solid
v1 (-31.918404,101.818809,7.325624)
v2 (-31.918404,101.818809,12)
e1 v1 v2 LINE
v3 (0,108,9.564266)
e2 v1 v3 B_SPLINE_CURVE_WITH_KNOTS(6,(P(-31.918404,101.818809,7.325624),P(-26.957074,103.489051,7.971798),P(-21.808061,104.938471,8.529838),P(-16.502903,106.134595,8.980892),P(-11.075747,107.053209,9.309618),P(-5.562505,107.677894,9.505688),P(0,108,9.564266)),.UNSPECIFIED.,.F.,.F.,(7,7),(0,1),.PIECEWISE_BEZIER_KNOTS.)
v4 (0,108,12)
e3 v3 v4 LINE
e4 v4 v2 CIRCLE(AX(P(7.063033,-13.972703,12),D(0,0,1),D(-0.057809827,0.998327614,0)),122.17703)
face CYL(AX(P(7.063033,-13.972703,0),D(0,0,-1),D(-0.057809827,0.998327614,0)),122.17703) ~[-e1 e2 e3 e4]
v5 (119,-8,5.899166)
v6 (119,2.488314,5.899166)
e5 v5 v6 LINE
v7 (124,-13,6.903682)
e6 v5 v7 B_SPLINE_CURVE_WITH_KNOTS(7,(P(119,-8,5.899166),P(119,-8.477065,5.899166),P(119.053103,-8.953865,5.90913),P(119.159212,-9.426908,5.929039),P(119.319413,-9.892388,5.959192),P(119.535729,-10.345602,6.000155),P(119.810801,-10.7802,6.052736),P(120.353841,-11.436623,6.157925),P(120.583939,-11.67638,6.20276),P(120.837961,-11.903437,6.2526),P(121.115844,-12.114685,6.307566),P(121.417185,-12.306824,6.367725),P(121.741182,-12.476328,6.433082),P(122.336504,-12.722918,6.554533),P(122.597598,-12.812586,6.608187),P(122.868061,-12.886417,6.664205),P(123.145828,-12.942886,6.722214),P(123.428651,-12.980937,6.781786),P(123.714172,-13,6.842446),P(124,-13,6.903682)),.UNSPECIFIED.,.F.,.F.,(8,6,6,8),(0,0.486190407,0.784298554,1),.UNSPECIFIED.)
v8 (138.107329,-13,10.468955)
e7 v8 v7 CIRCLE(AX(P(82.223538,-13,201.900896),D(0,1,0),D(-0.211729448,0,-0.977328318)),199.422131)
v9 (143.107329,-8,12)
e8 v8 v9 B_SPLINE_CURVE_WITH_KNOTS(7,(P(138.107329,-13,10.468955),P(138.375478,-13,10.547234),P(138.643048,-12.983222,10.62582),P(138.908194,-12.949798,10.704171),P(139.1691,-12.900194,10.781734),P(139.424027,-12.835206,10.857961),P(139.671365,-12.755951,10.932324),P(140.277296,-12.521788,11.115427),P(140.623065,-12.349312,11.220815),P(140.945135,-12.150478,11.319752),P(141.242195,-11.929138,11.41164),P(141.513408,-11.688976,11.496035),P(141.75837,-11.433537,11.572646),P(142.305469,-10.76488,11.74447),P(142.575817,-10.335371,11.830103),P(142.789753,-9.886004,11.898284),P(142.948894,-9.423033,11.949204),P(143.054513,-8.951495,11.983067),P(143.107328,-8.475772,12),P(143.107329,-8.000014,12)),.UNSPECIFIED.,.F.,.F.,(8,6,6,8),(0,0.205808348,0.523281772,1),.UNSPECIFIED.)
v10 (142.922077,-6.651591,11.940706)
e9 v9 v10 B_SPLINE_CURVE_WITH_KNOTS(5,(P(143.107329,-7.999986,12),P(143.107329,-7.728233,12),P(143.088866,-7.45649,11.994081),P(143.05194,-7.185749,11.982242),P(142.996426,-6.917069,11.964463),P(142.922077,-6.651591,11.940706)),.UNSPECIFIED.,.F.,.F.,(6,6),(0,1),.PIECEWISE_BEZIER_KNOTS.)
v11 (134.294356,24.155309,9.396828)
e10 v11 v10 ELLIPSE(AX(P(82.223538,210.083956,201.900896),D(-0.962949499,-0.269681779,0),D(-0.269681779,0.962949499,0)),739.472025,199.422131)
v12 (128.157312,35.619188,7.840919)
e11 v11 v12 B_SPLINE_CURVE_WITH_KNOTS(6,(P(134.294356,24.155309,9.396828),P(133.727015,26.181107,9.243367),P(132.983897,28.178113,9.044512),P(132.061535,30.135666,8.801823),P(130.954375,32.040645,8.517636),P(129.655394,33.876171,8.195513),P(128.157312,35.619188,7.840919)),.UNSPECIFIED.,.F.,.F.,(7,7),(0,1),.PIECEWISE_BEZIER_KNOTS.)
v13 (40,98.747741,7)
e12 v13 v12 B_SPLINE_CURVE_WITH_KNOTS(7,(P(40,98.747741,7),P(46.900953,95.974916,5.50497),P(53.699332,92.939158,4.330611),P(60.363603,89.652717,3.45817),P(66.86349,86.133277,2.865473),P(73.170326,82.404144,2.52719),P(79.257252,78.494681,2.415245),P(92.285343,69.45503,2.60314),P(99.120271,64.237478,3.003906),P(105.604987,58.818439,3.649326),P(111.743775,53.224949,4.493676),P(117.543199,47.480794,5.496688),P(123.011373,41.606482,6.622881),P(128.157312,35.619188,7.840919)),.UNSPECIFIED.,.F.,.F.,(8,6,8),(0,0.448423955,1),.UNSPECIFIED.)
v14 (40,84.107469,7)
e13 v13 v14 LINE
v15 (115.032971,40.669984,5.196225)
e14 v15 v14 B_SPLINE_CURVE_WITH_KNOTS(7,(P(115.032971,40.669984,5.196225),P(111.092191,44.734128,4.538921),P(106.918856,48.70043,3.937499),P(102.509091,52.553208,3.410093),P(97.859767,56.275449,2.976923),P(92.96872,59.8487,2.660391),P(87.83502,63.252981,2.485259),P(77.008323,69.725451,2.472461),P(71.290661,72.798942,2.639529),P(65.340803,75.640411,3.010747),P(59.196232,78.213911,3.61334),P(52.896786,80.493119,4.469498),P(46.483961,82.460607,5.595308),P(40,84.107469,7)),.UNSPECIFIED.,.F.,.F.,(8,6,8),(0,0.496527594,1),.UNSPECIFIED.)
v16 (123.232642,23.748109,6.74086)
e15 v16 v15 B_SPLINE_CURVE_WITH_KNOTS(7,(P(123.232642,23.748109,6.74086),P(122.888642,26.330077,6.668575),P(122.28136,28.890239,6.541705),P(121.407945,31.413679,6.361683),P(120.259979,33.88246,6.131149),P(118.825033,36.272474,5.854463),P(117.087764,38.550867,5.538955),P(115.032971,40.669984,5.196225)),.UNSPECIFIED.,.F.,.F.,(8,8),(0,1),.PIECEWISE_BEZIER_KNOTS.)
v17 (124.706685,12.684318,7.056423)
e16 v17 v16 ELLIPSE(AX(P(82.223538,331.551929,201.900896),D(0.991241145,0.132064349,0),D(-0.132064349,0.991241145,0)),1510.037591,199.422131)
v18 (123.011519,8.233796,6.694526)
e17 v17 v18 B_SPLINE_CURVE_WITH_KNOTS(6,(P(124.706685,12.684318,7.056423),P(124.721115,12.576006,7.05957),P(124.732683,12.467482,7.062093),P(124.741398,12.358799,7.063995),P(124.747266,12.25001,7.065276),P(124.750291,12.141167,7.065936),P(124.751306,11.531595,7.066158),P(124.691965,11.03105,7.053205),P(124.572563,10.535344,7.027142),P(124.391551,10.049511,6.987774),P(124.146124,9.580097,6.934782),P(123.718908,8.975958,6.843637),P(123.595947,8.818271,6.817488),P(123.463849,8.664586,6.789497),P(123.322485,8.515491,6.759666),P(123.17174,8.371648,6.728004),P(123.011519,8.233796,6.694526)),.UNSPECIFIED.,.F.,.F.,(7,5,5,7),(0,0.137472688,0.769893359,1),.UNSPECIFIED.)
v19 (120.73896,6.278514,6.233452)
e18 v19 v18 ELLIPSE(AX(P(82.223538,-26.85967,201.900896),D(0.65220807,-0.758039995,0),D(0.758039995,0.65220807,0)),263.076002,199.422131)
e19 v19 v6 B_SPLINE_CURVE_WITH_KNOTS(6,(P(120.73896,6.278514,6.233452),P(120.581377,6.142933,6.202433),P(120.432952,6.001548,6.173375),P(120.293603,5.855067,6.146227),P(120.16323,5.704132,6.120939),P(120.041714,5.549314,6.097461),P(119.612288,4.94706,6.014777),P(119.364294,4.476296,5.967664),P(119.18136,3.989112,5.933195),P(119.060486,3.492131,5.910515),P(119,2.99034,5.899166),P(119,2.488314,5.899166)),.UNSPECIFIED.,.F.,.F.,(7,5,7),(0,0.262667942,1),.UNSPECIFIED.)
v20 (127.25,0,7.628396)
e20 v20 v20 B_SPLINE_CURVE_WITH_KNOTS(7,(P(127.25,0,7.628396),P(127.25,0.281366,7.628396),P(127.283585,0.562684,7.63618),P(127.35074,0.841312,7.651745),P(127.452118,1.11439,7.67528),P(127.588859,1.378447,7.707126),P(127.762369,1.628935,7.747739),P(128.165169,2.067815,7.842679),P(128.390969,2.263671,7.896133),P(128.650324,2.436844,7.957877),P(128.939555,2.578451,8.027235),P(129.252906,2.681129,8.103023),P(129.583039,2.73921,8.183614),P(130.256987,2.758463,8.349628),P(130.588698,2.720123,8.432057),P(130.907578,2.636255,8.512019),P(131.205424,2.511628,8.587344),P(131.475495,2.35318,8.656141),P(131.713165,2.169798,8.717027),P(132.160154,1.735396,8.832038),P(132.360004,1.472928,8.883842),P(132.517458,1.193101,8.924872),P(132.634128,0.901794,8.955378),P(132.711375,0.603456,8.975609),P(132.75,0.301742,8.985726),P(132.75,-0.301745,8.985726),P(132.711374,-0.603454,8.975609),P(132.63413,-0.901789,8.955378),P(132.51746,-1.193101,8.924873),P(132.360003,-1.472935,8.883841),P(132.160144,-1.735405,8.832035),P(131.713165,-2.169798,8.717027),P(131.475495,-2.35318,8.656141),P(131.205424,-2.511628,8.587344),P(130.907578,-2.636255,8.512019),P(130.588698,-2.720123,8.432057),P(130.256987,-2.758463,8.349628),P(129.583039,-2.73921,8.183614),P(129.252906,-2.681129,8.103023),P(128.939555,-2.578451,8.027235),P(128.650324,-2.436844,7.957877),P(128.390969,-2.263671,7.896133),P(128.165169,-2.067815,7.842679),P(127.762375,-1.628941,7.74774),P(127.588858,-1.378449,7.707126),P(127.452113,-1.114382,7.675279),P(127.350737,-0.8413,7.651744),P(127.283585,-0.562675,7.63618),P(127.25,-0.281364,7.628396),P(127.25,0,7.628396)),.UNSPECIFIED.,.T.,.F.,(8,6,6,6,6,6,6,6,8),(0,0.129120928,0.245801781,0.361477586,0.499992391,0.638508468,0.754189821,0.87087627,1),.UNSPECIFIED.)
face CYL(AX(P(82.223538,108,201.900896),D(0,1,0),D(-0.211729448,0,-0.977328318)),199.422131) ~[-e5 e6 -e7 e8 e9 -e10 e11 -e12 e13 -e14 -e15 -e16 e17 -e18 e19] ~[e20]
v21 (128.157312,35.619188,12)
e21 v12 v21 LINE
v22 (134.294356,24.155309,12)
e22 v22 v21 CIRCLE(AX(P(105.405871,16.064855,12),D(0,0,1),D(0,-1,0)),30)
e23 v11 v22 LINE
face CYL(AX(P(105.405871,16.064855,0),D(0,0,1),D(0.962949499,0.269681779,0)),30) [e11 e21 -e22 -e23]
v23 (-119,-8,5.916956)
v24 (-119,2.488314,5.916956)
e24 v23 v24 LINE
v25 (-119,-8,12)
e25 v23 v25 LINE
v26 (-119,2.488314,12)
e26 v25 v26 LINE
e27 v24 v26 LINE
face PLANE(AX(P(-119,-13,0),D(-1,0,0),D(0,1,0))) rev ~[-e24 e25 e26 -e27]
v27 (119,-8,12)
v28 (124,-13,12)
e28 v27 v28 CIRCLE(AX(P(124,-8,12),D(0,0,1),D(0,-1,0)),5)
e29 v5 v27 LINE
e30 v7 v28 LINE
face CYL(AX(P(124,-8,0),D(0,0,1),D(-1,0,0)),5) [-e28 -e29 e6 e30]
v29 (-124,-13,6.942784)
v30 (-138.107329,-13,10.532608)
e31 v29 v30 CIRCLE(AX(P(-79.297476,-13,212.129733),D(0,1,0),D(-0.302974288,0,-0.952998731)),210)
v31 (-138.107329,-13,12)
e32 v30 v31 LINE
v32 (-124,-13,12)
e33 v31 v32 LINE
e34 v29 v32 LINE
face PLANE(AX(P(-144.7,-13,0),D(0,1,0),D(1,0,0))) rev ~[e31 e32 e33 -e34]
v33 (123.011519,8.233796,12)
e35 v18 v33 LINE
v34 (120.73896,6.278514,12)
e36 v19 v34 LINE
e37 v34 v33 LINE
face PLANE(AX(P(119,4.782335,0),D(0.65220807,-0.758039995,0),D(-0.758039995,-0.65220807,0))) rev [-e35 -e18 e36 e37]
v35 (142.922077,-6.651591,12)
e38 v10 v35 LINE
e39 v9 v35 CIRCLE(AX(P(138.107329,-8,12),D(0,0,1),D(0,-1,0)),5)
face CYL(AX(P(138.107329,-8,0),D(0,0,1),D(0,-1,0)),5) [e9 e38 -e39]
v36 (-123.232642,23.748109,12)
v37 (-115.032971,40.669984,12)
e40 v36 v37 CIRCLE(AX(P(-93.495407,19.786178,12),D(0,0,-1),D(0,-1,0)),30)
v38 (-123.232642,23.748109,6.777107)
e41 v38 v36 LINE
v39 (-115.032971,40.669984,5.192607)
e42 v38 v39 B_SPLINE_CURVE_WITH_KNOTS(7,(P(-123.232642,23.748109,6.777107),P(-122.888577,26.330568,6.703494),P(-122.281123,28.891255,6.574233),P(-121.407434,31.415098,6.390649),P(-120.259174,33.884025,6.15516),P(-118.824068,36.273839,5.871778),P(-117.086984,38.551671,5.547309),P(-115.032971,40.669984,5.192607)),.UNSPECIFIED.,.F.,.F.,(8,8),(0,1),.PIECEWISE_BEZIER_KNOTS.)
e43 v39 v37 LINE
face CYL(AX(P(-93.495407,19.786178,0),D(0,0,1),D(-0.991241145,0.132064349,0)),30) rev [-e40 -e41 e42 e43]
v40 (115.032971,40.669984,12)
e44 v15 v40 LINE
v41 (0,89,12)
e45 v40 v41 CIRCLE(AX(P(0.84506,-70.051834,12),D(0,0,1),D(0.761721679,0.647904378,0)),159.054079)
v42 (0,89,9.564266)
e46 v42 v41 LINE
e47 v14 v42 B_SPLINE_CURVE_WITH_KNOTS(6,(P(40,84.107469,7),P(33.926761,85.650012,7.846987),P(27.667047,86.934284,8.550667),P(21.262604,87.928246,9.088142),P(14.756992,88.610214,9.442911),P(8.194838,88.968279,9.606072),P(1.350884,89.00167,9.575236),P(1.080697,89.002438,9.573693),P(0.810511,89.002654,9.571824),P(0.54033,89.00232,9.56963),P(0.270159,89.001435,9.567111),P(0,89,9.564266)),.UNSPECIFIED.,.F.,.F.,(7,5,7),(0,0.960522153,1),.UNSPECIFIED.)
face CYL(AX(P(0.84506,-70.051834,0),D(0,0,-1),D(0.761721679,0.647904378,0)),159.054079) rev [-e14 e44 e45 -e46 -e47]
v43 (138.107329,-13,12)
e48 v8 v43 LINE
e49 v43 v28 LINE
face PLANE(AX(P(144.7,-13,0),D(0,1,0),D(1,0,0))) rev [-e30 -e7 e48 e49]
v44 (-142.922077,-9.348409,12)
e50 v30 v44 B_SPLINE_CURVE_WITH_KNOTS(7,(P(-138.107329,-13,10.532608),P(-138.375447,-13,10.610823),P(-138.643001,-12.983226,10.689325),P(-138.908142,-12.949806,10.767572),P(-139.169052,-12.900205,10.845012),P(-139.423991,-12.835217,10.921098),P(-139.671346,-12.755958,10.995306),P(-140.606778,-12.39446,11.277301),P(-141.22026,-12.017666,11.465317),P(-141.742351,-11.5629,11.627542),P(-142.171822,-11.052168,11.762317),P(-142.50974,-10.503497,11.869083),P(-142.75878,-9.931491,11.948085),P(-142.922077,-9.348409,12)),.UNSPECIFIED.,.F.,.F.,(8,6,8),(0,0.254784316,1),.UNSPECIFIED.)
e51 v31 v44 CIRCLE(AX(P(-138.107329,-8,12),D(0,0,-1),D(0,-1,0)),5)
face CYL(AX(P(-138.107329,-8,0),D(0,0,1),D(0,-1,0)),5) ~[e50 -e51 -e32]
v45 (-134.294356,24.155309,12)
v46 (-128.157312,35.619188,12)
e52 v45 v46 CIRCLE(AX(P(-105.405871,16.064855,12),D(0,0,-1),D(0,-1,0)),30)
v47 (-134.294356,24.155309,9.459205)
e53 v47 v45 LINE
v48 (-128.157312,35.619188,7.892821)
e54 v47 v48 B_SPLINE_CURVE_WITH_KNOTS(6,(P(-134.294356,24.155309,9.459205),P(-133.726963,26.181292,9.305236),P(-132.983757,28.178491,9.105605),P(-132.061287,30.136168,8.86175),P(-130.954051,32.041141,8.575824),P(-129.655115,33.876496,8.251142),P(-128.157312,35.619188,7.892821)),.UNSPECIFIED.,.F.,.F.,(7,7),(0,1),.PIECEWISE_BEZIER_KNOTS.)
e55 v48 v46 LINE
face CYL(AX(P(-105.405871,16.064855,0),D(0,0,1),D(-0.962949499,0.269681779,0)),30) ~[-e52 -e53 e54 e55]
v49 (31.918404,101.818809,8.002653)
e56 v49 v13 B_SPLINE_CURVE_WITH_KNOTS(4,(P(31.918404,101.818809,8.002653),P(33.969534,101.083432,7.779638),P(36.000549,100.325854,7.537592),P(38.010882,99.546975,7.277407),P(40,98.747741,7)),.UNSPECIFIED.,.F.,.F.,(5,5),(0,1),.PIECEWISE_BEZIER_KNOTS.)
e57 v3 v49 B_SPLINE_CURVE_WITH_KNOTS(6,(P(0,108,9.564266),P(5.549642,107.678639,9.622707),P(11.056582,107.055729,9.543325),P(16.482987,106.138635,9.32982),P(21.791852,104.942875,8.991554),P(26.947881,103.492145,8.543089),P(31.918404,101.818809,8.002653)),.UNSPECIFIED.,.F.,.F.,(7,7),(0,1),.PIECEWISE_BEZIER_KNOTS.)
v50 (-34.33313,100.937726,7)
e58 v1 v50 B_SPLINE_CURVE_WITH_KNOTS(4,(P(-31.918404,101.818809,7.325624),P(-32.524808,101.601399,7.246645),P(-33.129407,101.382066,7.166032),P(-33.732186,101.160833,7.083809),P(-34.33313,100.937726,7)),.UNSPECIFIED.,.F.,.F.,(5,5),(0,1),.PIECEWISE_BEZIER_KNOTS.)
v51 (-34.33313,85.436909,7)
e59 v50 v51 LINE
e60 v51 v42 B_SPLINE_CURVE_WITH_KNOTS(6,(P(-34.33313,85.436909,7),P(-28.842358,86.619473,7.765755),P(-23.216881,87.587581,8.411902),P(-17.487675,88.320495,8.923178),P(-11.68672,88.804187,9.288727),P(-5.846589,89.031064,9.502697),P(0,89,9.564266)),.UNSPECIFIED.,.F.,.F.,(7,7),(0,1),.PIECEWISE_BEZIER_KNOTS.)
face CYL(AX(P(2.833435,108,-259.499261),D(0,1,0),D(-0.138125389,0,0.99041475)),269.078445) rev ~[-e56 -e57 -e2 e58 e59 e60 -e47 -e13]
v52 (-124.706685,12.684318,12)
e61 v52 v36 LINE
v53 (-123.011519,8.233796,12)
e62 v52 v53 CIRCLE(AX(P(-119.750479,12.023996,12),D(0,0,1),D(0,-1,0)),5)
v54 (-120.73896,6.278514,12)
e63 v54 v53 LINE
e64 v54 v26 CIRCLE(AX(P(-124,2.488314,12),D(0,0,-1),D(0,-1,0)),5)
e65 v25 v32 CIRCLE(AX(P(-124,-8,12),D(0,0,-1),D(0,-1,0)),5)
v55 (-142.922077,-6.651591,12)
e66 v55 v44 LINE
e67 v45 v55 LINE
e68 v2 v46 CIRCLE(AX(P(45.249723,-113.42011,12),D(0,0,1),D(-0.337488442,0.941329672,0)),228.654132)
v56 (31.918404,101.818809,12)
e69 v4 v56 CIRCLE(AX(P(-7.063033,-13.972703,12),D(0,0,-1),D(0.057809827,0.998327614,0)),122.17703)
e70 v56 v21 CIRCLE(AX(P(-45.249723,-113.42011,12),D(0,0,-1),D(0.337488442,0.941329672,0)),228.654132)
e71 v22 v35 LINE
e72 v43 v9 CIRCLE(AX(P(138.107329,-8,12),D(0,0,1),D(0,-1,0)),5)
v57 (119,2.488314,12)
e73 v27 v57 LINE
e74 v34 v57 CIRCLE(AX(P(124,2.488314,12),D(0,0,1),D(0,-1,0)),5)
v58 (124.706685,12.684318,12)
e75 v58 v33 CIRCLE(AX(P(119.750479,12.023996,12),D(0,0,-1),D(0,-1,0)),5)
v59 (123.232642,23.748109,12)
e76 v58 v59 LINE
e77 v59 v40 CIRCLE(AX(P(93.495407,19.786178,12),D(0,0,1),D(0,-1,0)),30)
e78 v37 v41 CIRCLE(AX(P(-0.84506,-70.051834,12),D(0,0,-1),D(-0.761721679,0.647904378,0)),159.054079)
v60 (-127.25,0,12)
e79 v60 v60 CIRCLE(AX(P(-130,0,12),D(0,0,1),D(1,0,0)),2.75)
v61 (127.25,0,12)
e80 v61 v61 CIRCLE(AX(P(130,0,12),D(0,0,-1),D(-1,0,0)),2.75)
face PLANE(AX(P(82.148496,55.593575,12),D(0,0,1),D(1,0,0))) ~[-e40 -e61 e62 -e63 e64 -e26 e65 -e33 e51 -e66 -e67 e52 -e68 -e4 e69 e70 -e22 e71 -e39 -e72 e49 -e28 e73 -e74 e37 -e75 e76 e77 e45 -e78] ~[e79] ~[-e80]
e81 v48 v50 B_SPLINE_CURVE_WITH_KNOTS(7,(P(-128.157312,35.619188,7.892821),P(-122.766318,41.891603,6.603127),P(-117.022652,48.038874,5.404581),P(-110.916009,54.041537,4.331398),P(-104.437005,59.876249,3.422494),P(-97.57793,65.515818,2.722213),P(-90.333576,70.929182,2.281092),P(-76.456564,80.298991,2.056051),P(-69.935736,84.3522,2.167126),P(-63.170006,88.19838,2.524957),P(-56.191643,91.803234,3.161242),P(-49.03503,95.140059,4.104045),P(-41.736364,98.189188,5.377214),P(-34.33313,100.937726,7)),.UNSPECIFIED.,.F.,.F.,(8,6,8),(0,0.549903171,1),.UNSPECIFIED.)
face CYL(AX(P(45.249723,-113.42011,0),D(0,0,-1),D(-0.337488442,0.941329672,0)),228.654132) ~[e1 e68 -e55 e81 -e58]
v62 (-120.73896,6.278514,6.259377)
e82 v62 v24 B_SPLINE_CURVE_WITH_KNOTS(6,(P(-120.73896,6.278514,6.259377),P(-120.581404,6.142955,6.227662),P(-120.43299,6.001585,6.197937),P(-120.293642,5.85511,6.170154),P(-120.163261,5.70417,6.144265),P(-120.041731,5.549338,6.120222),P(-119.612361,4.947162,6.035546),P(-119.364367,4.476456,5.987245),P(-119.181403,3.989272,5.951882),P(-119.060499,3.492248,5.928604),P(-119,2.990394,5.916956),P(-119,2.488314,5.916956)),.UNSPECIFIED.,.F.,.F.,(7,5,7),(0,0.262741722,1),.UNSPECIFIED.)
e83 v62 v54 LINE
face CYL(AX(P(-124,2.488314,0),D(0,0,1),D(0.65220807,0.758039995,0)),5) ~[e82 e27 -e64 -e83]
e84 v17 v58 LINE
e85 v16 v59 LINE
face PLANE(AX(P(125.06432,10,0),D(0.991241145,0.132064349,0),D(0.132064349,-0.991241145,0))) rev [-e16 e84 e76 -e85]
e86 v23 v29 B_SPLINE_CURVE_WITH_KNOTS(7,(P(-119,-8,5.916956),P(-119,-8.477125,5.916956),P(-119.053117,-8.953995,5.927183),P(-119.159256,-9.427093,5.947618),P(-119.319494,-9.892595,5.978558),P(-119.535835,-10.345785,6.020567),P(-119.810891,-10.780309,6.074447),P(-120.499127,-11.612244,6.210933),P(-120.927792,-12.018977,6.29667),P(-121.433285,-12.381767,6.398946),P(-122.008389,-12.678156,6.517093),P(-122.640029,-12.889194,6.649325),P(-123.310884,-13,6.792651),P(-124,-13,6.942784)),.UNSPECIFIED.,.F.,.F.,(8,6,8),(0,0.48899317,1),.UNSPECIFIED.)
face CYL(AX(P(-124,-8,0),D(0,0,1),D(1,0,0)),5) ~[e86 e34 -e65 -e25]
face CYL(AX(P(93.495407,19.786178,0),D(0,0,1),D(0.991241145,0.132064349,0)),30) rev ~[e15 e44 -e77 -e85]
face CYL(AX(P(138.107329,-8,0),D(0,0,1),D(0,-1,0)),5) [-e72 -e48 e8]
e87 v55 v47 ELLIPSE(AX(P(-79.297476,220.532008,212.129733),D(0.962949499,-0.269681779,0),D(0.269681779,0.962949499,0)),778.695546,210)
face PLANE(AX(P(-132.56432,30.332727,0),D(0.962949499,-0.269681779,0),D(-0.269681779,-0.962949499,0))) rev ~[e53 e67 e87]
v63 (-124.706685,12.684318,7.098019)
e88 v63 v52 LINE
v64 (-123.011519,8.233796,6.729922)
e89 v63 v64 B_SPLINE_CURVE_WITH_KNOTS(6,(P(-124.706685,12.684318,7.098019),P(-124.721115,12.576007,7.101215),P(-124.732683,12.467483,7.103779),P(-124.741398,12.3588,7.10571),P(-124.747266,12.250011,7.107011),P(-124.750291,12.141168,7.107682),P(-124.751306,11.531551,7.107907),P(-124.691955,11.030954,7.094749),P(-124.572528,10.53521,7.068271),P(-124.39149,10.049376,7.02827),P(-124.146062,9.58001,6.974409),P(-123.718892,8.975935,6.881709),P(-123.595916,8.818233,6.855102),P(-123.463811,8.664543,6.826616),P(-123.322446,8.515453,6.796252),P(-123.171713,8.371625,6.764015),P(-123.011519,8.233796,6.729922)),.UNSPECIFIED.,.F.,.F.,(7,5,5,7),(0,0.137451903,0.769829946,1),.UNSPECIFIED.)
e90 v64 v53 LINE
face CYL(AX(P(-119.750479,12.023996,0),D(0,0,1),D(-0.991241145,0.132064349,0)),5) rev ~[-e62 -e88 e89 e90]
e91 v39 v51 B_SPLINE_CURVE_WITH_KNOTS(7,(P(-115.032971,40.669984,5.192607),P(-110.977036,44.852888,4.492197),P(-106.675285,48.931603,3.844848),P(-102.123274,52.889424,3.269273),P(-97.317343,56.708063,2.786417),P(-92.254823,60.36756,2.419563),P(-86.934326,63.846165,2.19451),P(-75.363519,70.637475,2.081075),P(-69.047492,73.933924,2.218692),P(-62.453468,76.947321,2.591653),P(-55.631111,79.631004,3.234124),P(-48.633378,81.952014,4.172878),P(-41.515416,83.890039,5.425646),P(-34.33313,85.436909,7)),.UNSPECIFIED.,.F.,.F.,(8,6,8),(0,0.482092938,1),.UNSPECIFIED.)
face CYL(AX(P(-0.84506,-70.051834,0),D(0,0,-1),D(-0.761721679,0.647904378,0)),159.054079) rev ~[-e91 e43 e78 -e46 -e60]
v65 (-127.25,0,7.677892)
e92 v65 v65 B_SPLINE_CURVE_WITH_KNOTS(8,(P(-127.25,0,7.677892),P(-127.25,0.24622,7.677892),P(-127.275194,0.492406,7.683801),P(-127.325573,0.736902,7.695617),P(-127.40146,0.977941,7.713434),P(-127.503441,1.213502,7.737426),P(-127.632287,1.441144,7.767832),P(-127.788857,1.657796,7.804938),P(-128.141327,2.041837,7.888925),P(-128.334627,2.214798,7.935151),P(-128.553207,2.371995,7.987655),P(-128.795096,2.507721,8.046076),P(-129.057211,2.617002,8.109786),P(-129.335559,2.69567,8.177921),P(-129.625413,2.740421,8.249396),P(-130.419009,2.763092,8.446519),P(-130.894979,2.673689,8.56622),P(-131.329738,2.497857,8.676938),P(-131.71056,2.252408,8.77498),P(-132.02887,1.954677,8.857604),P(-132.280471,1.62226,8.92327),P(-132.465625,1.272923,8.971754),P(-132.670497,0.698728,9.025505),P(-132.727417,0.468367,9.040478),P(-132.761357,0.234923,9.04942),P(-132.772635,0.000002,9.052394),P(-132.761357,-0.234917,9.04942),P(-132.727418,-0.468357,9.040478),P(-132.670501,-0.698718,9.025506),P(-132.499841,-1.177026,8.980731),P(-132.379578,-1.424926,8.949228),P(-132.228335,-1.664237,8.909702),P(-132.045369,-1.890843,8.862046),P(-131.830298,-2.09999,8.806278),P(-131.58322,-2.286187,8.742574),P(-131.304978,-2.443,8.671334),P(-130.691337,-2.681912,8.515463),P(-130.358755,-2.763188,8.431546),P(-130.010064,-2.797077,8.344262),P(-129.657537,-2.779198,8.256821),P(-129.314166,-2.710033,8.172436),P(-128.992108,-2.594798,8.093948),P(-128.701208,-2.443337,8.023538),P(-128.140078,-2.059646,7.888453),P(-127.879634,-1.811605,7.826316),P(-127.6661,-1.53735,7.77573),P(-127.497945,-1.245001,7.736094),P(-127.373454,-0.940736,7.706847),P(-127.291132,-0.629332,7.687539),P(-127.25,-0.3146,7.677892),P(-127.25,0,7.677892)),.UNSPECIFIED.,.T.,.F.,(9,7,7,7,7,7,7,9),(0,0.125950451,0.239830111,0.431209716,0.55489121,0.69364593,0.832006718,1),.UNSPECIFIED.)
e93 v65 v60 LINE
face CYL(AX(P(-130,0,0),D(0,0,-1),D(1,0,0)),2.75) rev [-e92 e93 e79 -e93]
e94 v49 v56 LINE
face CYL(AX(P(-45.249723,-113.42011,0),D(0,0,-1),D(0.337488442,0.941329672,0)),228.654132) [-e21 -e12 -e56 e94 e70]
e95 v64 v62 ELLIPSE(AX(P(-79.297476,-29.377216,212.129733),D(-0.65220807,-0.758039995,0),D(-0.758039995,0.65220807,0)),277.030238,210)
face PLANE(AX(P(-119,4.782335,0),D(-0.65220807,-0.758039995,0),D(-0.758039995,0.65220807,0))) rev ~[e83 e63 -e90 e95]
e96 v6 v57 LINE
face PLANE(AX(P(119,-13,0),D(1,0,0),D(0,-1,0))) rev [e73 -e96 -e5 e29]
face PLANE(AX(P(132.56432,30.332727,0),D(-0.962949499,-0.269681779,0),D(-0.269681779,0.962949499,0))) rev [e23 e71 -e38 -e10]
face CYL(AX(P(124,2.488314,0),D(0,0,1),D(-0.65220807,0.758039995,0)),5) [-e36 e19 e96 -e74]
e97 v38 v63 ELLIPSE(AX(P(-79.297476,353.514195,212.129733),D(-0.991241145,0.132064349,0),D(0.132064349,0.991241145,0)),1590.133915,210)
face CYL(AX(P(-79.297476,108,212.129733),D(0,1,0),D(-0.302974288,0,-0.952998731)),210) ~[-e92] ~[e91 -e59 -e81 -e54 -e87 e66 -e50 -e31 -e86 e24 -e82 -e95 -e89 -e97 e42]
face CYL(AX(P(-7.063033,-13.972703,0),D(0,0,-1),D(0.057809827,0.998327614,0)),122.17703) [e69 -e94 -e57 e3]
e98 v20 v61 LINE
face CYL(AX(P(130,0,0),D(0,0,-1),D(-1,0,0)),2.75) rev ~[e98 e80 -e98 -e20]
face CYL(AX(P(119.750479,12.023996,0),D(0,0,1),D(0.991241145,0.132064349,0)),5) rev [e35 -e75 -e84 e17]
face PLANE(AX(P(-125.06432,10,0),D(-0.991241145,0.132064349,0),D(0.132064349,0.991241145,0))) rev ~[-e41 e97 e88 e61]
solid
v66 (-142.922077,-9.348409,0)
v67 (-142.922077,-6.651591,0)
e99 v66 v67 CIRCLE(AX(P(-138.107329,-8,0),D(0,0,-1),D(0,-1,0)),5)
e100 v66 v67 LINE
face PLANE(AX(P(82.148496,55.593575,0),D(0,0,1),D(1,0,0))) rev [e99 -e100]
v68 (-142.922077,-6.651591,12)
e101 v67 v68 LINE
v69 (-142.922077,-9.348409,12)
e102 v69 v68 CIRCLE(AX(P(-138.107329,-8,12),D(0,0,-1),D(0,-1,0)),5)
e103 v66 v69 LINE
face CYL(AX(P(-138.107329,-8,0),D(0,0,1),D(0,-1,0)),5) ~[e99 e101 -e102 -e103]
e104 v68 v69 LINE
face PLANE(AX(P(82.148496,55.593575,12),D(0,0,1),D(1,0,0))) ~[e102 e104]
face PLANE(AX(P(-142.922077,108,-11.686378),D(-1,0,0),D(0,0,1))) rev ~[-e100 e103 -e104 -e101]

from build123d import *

# Parameters (mm, degrees)
ESQUISSE2_R             = 2.75
BOSS_EXTRU_1_DEPTH      = 12
CONG_1_R                = 30
CONG_2_R                = 30
CONG_3_R                = 5
CONG_4_R                = 5
CONG_5_R                = 5
CONG_6_R                = 5
CONG_1_OF_SYM_TRIE1_R   = 30
CONG_2_OF_SYM_TRIE1_R   = 30
CONG_3_OF_SYM_TRIE1_R   = 5
CONG_4_OF_SYM_TRIE1_R   = 5
CONG_5_OF_SYM_TRIE1_R   = 5
CONG_6_OF_SYM_TRIE1_R   = 5
ENL_V_MAT_EXTRU_6_DEPTH = 153


with BuildPart() as part:
    # Esquisse2 → Boss.-Extru.1 (new body)
    with BuildSketch(Plane.XY):
        with BuildLine():
            Line((-125.064319956, 10), (-122, 33))
            ThreePointArc((-122, 33), (-67.197277761, 74.501212265), (0, 89))
            Line((0, 89), (0, 108))
            ThreePointArc((0, 108), (-16.165722488, 105.975834437), (-31.918403878, 101.818809198))
            ThreePointArc((-31.918403878, 101.818809198), (-87.157005326, 72.996548183), (-132.564319956, 30.332727469))
            Line((-132.564319956, 30.332727469), (-144.7, -13))
            Line((-144.7, -13), (-119, -13))
            Line((-119, -13), (-119, 4.782335439))
            Line((-119, 4.782335439), (-125.064319956, 10))
        make_face()
        with Locations((-130, 0)):
            Circle(ESQUISSE2_R, mode=Mode.SUBTRACT)
    boss_extru_1 = extrude(amount=BOSS_EXTRU_1_DEPTH)

    # Congé1
    cong_1_edges = [part.edges().sort_by_distance(p)[0] for p in [
        (-132.564319956, 30.332727469, 6),
    ]]
    fillet(cong_1_edges, radius=CONG_1_R)

    # Congé2
    cong_2_edges = [part.edges().sort_by_distance(p)[0] for p in [
        (-122, 33, 6),
    ]]
    fillet(cong_2_edges, radius=CONG_2_R)

    # Congé3
    cong_3_edges = [part.edges().sort_by_distance(p)[0] for p in [
        (-125.064319956, 10, 6),
    ]]
    fillet(cong_3_edges, radius=CONG_3_R)

    # Congé4
    cong_4_edges = [part.edges().sort_by_distance(p)[0] for p in [
        (-119, 4.782335439, 6),
    ]]
    fillet(cong_4_edges, radius=CONG_4_R)

    # Congé5
    cong_5_edges = [part.edges().sort_by_distance(p)[0] for p in [
        (-119, -13, 6),
    ]]
    fillet(cong_5_edges, radius=CONG_5_R)

    # Congé6
    cong_6_edges = [part.edges().sort_by_distance(p)[0] for p in [
        (-144.7, -13, 6),
    ]]
    fillet(cong_6_edges, radius=CONG_6_R)

    # Symétrie1: Boss.-Extru.1 across plane
    add(boss_extru_1.mirror(Plane(origin=(0, 108, 12), x_dir=(0, 0, 1), z_dir=(-1, 0, 0))))

    # Congé1 of Symétrie1
    cong_1_of_sym_trie1_edges = [part.edges().sort_by_distance(p)[0] for p in [
        (132.564319956, 30.332727469, 6),
    ]]
    fillet(cong_1_of_sym_trie1_edges, radius=CONG_1_OF_SYM_TRIE1_R)

    # Congé2 of Symétrie1
    cong_2_of_sym_trie1_edges = [part.edges().sort_by_distance(p)[0] for p in [
        (122, 33, 6),
    ]]
    fillet(cong_2_of_sym_trie1_edges, radius=CONG_2_OF_SYM_TRIE1_R)

    # Congé3 of Symétrie1
    cong_3_of_sym_trie1_edges = [part.edges().sort_by_distance(p)[0] for p in [
        (125.064319956, 10, 6),
    ]]
    fillet(cong_3_of_sym_trie1_edges, radius=CONG_3_OF_SYM_TRIE1_R)

    # Congé4 of Symétrie1
    cong_4_of_sym_trie1_edges = [part.edges().sort_by_distance(p)[0] for p in [
        (119, 4.782335439, 6),
    ]]
    fillet(cong_4_of_sym_trie1_edges, radius=CONG_4_OF_SYM_TRIE1_R)

    # Congé5 of Symétrie1
    cong_5_of_sym_trie1_edges = [part.edges().sort_by_distance(p)[0] for p in [
        (119, -13, 6),
    ]]
    fillet(cong_5_of_sym_trie1_edges, radius=CONG_5_OF_SYM_TRIE1_R)

    # Congé6 of Symétrie1
    cong_6_of_sym_trie1_edges = [part.edges().sort_by_distance(p)[0] for p in [
        (144.7, -13, 6),
    ]]
    fillet(cong_6_of_sym_trie1_edges, radius=CONG_6_OF_SYM_TRIE1_R)

    # Esquisse9 → Enlèv. mat.-Extru.6 (cut)
    with BuildSketch(Plane(origin=(0, 108, 0), x_dir=(1, 0, 0), z_dir=(0, 1, 0))):
        with BuildLine():
            Line((143.107329358, -12), (143.107329358, 11.686377944))
            Line((143.107329358, 11.686377944), (-142.922076855, 11.686377944))
            Line((-142.922076855, 11.686377944), (-142.922076855, -12))
            ThreePointArc((-142.922076855, -12), (-88.956734655, -2.351996966), (-34.333129967, -7))
            ThreePointArc((-34.333129967, -7), (2.833435017, -9.579184192), (40, -7))
            ThreePointArc((40, -7), (91.882795923, -2.712831285), (143.107329358, -12))
        make_face()
    extrude(amount=-ENL_V_MAT_EXTRU_6_DEPTH, mode=Mode.SUBTRACT)


with BuildPart() as enl_v_mat_extru_6_piece_1:
    # of the separate pieces the step leaves, piece 1, a body of its own (enl_v_mat_extru_6_pieces)
    add(part.part.solids().sort_by_distance((138.107329358, -13, 10.46895452))[0])


with BuildPart() as enl_v_mat_extru_6_piece_2:
    # of the separate pieces the step leaves, piece 2, a body of its own (enl_v_mat_extru_6_pieces)
    add(part.part.solids().sort_by_distance((-142.922076855, -6.651591106, 0))[0])


solid = Compound([enl_v_mat_extru_6_piece_1.part, enl_v_mat_extru_6_piece_2.part])
